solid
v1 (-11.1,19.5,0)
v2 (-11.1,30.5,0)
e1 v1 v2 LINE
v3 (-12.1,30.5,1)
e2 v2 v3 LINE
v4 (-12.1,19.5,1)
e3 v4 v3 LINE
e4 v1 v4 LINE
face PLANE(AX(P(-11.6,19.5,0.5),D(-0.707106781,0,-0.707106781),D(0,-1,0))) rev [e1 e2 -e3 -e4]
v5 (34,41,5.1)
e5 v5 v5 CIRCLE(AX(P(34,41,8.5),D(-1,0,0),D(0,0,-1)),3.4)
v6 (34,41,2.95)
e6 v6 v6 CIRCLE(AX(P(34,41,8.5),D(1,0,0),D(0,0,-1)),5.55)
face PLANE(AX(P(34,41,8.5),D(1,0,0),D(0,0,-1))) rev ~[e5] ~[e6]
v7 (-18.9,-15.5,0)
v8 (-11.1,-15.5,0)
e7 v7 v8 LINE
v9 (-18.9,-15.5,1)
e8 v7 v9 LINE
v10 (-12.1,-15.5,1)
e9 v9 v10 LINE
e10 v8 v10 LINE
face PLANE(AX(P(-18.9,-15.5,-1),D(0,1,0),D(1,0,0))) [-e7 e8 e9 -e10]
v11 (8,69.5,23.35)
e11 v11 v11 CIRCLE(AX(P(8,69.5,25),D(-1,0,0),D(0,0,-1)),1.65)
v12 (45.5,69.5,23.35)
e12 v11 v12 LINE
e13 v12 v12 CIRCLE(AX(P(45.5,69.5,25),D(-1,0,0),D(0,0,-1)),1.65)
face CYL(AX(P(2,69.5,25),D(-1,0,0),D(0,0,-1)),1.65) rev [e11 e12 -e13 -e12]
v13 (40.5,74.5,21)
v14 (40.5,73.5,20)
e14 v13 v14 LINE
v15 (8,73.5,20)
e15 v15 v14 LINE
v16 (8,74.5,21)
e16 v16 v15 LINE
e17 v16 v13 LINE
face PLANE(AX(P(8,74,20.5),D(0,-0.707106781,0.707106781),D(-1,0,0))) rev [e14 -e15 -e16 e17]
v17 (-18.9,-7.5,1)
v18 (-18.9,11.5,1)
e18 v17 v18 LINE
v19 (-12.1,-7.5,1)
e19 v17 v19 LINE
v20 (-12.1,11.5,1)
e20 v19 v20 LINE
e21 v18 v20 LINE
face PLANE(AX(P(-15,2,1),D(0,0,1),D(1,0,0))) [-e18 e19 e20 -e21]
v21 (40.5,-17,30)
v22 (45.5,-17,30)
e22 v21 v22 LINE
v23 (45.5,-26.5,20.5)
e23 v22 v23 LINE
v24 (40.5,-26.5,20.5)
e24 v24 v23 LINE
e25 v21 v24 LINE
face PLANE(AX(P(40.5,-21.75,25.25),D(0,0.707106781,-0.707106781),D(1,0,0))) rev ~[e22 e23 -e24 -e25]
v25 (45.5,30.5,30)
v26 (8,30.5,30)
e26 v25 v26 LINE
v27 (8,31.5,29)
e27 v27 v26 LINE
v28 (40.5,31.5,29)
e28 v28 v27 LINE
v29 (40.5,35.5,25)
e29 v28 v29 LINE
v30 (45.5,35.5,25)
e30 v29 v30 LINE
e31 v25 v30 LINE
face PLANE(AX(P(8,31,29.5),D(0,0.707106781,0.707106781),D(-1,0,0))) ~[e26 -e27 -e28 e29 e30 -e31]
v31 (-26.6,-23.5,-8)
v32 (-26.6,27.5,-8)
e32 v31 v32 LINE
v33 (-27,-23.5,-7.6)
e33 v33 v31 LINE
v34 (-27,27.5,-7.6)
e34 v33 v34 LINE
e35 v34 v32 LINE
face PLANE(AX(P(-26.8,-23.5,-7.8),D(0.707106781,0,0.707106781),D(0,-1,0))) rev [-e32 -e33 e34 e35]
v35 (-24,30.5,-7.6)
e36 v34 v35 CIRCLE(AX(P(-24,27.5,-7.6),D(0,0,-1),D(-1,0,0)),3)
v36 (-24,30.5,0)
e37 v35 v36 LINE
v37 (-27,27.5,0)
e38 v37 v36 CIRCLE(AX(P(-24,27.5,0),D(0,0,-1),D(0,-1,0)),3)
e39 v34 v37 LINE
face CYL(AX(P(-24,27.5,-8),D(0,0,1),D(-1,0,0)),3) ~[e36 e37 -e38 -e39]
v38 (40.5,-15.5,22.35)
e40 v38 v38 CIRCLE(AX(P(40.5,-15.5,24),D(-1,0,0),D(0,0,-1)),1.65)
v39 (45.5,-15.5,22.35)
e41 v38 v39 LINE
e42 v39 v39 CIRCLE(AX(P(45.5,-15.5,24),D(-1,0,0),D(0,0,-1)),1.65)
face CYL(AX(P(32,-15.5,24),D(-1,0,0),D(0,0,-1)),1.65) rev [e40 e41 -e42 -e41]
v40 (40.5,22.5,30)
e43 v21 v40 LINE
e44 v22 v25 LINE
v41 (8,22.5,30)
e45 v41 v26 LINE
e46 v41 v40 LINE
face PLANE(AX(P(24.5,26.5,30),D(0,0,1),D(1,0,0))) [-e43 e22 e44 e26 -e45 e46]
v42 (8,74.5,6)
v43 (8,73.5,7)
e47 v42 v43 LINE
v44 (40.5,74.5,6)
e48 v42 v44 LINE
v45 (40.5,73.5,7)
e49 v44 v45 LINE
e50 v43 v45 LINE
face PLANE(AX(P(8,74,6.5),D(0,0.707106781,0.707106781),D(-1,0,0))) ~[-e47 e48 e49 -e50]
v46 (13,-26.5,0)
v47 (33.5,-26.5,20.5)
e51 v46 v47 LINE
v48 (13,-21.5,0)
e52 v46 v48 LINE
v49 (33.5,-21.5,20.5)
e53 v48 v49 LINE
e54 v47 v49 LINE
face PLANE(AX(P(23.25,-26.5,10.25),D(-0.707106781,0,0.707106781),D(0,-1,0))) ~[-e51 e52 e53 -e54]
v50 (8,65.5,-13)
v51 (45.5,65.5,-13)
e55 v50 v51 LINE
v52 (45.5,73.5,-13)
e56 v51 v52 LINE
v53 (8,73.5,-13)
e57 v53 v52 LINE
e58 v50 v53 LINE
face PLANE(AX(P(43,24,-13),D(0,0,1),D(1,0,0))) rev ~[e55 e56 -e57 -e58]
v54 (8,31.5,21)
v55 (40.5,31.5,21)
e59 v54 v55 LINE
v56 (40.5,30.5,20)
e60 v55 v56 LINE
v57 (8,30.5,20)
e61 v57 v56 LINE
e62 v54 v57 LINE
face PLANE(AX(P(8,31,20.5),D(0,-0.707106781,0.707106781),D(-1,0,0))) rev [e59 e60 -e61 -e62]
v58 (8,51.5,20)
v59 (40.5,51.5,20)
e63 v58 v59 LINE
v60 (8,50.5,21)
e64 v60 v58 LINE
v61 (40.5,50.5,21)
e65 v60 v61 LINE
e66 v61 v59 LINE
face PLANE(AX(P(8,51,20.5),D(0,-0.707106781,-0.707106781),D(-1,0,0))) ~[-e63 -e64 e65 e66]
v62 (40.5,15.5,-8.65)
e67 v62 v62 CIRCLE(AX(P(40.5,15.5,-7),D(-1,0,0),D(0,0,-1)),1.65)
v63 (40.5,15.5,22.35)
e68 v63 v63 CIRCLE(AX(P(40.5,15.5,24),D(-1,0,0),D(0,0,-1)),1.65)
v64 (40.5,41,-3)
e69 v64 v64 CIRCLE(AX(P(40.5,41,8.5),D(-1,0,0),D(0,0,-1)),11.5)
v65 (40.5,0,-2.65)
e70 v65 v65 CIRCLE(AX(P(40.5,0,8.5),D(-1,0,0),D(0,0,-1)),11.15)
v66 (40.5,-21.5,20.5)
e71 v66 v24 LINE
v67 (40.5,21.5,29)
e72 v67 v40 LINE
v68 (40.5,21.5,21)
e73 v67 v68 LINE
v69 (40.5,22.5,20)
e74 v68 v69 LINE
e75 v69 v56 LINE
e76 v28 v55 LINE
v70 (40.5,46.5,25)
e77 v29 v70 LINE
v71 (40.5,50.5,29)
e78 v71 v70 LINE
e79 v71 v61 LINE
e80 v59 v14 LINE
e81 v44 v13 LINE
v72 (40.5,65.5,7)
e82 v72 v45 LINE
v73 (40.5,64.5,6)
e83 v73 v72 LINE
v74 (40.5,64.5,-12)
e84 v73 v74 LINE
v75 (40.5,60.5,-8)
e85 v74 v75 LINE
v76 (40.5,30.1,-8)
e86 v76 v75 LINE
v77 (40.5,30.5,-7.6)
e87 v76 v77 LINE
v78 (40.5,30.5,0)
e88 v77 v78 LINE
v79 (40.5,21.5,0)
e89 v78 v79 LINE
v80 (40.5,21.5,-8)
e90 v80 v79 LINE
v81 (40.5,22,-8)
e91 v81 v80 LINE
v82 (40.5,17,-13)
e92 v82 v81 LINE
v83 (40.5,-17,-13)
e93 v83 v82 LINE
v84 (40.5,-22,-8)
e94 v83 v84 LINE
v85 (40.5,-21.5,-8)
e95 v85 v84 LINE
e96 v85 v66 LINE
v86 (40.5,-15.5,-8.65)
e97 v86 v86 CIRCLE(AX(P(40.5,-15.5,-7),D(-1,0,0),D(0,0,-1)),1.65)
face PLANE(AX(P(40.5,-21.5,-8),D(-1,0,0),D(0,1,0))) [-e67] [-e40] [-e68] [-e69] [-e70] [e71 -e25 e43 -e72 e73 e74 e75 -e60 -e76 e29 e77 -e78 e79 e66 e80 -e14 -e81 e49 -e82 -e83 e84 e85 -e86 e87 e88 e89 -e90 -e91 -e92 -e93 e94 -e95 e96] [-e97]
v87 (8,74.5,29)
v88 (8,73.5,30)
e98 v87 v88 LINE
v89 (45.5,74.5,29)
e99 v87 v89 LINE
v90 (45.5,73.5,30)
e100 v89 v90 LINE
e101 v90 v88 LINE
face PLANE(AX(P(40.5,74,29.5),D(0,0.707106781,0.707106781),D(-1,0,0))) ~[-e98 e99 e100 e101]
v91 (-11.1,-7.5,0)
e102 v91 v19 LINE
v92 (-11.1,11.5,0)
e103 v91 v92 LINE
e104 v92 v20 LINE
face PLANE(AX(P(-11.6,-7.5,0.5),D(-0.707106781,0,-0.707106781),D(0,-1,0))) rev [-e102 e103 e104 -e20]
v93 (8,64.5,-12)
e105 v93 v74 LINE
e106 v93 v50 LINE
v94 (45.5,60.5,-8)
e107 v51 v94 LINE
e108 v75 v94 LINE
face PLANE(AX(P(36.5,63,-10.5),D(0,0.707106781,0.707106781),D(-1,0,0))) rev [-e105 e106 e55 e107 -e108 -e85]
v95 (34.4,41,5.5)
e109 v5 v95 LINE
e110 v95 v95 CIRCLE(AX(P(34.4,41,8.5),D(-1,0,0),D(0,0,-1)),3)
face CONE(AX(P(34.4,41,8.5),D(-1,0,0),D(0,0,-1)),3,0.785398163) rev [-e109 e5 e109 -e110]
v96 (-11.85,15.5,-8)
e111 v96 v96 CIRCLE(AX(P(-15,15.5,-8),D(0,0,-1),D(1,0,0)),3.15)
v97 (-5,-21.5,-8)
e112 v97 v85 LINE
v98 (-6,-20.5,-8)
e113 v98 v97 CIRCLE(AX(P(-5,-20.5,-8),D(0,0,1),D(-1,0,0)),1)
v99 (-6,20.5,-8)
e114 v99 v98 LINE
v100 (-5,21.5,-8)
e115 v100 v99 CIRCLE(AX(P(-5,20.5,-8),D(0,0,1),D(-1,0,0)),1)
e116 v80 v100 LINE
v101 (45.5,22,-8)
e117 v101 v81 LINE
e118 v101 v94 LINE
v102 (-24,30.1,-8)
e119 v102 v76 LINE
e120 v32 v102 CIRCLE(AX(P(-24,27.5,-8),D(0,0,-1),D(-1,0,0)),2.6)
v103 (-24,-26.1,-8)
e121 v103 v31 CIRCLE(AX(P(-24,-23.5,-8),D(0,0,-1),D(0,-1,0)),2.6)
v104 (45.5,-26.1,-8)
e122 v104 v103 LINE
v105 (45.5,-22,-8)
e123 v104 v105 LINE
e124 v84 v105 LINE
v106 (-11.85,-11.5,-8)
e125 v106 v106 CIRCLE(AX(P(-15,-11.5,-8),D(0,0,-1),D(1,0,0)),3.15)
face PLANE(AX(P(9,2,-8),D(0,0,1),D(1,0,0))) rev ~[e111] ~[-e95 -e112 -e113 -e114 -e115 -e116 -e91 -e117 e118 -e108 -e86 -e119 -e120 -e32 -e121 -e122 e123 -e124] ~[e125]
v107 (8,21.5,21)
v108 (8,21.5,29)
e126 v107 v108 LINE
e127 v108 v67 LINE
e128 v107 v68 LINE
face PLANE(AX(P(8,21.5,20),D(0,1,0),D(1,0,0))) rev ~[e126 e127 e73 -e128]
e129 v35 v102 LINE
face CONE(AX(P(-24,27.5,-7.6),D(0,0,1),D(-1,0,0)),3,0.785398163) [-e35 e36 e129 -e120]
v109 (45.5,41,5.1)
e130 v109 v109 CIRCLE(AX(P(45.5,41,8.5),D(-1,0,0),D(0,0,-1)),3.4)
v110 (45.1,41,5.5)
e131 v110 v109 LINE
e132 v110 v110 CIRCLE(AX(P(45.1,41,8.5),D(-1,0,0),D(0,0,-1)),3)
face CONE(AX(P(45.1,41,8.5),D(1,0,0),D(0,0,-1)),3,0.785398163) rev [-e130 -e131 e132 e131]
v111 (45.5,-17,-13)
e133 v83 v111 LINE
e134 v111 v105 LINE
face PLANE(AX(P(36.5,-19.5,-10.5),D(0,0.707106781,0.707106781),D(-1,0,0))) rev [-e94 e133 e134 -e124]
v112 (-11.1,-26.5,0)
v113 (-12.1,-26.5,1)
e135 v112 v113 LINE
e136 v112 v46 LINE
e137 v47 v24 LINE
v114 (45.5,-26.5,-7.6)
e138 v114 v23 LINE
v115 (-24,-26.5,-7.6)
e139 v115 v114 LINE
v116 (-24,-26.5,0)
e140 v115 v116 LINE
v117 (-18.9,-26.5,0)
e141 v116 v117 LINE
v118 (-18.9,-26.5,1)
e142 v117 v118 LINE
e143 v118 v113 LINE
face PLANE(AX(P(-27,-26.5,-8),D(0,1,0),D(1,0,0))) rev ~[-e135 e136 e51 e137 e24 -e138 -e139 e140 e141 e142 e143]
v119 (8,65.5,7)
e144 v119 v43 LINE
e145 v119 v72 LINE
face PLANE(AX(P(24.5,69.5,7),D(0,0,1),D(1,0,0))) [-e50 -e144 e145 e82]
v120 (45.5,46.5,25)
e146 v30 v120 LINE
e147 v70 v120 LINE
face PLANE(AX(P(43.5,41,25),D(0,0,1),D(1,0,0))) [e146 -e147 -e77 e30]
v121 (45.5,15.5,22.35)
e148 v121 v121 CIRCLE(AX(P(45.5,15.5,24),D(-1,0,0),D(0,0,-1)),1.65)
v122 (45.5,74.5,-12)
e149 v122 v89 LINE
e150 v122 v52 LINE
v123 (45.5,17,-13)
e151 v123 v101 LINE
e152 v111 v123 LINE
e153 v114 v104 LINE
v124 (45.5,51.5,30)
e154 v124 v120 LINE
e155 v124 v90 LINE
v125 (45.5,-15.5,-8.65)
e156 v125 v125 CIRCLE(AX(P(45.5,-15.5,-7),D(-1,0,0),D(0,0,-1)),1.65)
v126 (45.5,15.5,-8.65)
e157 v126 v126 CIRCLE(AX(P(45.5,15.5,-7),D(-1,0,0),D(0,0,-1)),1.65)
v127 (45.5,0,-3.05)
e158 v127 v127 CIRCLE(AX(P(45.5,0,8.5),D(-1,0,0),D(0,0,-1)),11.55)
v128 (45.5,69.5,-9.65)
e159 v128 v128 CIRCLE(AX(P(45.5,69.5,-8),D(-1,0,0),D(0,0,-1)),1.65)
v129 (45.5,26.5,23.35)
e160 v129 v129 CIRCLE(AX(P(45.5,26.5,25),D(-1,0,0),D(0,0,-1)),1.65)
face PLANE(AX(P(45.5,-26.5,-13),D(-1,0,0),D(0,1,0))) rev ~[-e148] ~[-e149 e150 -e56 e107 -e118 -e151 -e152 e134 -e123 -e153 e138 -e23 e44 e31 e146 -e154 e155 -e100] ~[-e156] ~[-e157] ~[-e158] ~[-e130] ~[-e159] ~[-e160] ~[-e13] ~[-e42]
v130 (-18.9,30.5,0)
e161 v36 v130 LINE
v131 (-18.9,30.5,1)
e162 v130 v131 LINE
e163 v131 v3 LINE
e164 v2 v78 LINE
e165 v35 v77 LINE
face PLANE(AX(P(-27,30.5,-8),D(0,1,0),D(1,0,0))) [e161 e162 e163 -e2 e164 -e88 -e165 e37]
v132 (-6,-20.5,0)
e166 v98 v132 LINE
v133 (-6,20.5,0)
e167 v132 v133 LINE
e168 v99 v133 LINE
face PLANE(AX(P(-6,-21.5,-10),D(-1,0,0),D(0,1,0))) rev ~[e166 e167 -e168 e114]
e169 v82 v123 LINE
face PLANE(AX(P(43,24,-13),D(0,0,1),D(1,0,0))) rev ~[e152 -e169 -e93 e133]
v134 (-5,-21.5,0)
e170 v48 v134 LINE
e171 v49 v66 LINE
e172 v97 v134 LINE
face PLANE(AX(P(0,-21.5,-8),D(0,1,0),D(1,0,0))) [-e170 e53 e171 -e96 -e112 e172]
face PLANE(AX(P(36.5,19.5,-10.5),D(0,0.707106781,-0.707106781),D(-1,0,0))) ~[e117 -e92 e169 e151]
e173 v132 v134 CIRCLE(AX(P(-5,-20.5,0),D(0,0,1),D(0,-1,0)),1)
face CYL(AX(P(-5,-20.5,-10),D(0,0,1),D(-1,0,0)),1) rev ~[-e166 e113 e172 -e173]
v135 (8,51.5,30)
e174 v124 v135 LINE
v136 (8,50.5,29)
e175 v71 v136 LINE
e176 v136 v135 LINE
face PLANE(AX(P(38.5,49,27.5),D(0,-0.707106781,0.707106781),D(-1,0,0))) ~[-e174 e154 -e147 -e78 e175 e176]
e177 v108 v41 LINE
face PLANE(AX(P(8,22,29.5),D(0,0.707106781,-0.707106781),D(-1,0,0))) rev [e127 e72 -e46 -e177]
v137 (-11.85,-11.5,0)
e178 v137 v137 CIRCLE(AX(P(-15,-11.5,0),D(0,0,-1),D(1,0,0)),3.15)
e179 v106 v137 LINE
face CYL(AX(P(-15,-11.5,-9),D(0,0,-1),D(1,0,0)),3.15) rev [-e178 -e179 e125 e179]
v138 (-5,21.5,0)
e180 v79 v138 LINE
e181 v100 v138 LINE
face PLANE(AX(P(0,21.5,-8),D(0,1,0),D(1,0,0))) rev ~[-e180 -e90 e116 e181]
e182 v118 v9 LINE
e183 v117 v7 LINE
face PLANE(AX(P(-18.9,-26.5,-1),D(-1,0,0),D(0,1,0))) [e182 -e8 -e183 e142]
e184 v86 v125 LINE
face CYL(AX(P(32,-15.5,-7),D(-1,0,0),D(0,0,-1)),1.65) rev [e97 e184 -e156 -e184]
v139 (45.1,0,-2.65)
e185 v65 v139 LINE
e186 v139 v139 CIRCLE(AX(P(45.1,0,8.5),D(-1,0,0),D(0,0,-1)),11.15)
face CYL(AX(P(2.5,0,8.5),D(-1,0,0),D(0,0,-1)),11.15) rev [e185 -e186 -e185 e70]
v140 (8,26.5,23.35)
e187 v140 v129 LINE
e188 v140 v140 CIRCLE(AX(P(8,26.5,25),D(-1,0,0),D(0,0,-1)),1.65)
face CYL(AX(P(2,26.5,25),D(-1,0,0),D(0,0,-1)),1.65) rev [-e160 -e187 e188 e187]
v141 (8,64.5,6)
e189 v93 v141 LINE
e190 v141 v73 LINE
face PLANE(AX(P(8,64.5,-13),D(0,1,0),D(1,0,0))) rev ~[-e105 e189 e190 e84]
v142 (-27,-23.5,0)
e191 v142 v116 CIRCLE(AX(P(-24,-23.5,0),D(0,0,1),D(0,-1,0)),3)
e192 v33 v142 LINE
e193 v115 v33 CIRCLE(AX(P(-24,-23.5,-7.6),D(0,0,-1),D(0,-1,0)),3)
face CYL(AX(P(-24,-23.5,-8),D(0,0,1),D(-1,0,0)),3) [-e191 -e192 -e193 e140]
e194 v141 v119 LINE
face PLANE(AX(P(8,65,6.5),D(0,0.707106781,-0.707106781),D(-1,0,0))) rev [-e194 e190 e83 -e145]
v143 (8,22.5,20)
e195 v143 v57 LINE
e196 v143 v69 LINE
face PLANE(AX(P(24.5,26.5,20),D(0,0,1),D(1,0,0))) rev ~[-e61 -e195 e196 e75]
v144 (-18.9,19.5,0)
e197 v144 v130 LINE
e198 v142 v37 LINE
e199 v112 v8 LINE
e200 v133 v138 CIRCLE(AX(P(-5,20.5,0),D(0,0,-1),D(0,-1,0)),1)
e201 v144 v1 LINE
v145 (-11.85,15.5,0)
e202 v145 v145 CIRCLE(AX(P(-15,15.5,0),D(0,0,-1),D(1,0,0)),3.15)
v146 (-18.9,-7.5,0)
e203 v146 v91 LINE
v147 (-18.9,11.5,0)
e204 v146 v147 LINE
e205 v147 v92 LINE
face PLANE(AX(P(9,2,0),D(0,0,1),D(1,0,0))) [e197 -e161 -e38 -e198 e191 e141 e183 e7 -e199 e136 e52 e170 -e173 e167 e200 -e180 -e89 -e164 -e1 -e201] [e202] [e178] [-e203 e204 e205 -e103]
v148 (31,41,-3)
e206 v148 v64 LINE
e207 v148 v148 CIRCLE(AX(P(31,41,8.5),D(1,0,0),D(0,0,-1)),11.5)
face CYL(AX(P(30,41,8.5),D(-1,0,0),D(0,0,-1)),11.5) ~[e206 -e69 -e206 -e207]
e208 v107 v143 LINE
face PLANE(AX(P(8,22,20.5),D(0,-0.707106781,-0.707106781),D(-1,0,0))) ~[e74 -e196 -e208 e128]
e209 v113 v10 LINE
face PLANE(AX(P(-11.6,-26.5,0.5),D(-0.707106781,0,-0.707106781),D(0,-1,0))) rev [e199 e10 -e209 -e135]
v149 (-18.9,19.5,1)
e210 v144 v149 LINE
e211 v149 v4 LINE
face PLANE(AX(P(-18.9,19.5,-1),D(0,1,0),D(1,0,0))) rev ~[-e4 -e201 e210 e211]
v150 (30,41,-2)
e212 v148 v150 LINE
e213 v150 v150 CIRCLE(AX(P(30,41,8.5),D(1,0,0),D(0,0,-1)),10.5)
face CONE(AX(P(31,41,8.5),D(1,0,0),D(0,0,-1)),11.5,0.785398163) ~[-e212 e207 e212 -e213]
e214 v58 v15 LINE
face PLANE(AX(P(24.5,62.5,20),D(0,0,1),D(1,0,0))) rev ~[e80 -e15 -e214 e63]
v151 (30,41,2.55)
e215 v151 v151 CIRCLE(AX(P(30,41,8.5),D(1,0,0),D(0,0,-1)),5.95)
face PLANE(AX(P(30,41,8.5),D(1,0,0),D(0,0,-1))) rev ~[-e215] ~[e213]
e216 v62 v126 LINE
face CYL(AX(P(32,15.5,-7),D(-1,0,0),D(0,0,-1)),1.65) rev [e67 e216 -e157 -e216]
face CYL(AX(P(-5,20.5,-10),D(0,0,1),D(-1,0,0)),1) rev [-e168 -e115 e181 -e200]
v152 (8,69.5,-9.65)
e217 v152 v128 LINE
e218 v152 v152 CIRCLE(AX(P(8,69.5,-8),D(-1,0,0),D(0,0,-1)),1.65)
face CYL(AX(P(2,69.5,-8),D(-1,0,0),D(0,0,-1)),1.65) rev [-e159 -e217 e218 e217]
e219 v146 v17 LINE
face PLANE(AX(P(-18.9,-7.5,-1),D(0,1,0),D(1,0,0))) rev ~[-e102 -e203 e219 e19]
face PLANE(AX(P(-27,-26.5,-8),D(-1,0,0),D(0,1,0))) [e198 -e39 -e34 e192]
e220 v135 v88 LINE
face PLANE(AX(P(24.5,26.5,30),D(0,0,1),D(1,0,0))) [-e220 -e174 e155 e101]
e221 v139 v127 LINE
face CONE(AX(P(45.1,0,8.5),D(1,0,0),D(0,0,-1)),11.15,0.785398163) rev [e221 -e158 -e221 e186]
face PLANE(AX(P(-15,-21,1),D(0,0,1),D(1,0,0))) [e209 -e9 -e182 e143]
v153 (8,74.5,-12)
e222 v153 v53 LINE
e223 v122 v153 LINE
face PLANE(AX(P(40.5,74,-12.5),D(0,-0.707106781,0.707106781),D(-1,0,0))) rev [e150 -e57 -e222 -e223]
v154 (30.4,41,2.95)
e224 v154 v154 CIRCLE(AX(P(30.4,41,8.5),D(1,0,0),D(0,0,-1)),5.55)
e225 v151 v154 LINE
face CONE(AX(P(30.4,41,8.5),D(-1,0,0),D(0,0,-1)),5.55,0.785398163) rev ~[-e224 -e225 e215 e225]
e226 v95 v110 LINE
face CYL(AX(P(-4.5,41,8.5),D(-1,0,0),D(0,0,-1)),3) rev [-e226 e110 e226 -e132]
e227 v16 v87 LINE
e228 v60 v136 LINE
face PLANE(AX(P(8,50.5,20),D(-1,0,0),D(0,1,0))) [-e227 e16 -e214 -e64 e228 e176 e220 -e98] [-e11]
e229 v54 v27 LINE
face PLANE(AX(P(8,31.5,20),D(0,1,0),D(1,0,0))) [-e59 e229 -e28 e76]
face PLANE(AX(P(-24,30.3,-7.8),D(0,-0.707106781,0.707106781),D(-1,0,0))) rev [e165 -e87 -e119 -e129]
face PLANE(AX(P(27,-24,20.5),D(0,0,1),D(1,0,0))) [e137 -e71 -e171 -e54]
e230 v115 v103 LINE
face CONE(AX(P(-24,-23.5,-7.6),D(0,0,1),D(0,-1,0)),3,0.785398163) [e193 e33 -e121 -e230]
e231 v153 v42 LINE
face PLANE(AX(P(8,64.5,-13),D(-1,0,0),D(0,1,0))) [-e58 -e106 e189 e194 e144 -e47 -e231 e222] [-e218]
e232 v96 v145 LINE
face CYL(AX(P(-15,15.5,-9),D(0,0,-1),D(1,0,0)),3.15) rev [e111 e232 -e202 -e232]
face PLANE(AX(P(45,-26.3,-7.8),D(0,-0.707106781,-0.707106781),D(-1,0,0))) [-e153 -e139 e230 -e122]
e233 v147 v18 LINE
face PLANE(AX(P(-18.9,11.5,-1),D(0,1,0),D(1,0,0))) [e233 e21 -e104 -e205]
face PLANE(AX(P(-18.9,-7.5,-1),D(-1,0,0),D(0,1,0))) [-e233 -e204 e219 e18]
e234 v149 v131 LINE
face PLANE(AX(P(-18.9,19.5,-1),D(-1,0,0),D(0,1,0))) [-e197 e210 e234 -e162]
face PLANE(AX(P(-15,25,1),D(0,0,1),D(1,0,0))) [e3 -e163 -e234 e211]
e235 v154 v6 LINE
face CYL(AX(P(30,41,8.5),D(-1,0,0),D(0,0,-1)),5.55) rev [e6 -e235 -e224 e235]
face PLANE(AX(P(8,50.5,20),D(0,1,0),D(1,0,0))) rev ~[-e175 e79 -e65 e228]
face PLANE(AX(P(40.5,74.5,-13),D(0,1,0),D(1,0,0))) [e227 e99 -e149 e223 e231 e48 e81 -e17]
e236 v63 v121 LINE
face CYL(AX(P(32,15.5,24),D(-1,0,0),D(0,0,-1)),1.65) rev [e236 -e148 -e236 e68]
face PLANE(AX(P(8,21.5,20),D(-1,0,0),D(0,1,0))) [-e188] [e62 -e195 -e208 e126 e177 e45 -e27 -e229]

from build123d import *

# Parameters (mm, degrees)
BOX037_W          = 14
BOX037_H          = 43
BOX037_DEPTH      = 10
FILLET003_R       = 1
BOX020_W          = 10
BOX020_H          = 21
BOX020_DEPTH      = 10
CHAMFER025_SIZE   = 5
CYLINDER008_R     = 1.65
CYLINDER008_DEPTH = 110
CYLINDER009_R     = 1.65
CYLINDER009_DEPTH = 110
CYLINDER010_R     = 1.65
CYLINDER010_DEPTH = 110
BOX011_W          = 33
BOX011_H          = 24
BOX011_DEPTH      = 10
CHAMFER009_SIZE   = 1
BOX013_W          = 33
BOX013_H          = 10
BOX013_DEPTH      = 10
CHAMFER005_SIZE   = 1
BOX012_W          = 33
BOX012_H          = 10
BOX012_DEPTH      = 20
CHAMFER023_SIZE   = 1
CYLINDER024_R     = 3
CYLINDER024_DEPTH = 83
CYLINDER003_R     = 5.55
CYLINDER003_DEPTH = 4
CYLINDER023_R     = 11.5
CYLINDER023_DEPTH = 12
CHAMFER021_SIZE   = 1
CHAMFER022_SIZE   = 0.4
CYLINDER021_R     = 1.65
CYLINDER021_DEPTH = 30
CYLINDER020_R     = 1.65
CYLINDER020_DEPTH = 30
CYLINDER019_R     = 1.65
CYLINDER019_DEPTH = 30
CYLINDER022_R     = 1.65
CYLINDER022_DEPTH = 30
CYLINDER016_R     = 11.15
CYLINDER016_DEPTH = 83
BOX007_W          = 28
BOX007_H          = 5
BOX007_DEPTH      = 28.5
CHAMFER018_SIZE   = 0.5
CHAMFER019_SIZE   = 20.5
BOX015_W          = 10
BOX015_H          = 48.5
BOX015_DEPTH      = 10
CHAMFER014_SIZE   = 5
BOX016_W          = 10
BOX016_H          = 58.5
BOX016_DEPTH      = 10
CHAMFER013_SIZE   = 5
BOX_W             = 5
BOX_H             = 101
BOX_DEPTH         = 43
CHAMFER008_SIZE   = 1
CHAMFER015_SIZE   = 9.5
CHAMFER017_SIZE   = 0.4
CYLINDER018_R     = 3.15
CYLINDER018_DEPTH = 10
CYLINDER017_R     = 3.15
CYLINDER017_DEPTH = 10
BOX010_W          = 40.5
BOX010_H          = 43
BOX010_DEPTH      = 8
BOX009_W          = 72
BOX009_H          = 57
BOX009_DEPTH      = 8
FILLET001_R       = 3
CHAMFER016_SIZE   = 0.4
BOX019_W          = 7.8
BOX019_H          = 11
BOX019_DEPTH      = 2
BOX017_W          = 7.8
BOX017_H          = 11
BOX017_DEPTH      = 2
BOX018_W          = 7.8
BOX018_H          = 19
BOX018_DEPTH      = 2
CHAMFER020_SIZE   = 1
CHAMFER024_SIZE   = 0.4


with BuildPart() as fillet003:
    # Box037 → Box037 (new body)
    with BuildSketch(Plane(origin=(-6, -21.5, -10), x_dir=(1, 0, 0), z_dir=(0, 0, 1))):
        with Locations((7, 21.5)):
            Rectangle(BOX037_W, BOX037_H)
    extrude(amount=BOX037_DEPTH)

    # Fillet003
    fillet003_edges = [fillet003.edges().sort_by_distance(p)[0] for p in [
        (-6, -21.5, -5),
        (-6, 21.5, -5),
    ]]
    fillet(fillet003_edges, radius=FILLET003_R)


with BuildPart() as chamfer025:
    # Box020 → Box020 (new body)
    with BuildSketch(Plane(origin=(38.5, 30.5, 35), x_dir=(1, 0, 0), z_dir=(0, 0, 1))):
        with Locations((5, 10.5)):
            Rectangle(BOX020_W, BOX020_H)
    extrude(amount=BOX020_DEPTH)

    # Chamfer025
    chamfer025_edges = [chamfer025.edges().sort_by_distance(p)[0] for p in [
        (43.5, 30.5, 35),
        (43.5, 51.5, 35),
    ]]
    chamfer(chamfer025_edges, length=CHAMFER025_SIZE)


with BuildPart() as chamfer025_1:
    # Chamfer025 placement: moved
    add(chamfer025.part.moved(Location((0, 0, -10))))


with BuildPart() as cylinder002:
    # Cylinder008 → Cylinder008 (new body)
    with BuildSketch(Plane(origin=(2, 26.5, 25), x_dir=(0, 0, -1), z_dir=(1, 0, 0))):
        Circle(CYLINDER008_R)
    extrude(amount=CYLINDER008_DEPTH)


with BuildPart() as cylinder003:
    # Cylinder009 → Cylinder009 (new body)
    with BuildSketch(Plane(origin=(2, 69.5, 25), x_dir=(0, 0, -1), z_dir=(1, 0, 0))):
        Circle(CYLINDER009_R)
    extrude(amount=CYLINDER009_DEPTH)


with BuildPart() as fusion006002011004053036004001007:
    # Cylinder010 → Cylinder010 (new body)
    with BuildSketch(Plane(origin=(2, 69.5, -8), x_dir=(0, 0, -1), z_dir=(1, 0, 0))):
        Circle(CYLINDER010_R)
    extrude(amount=CYLINDER010_DEPTH)

    # Fusion006002011004053036004001007: union Cylinder002, Cylinder003
    add(cylinder002.part)
    add(cylinder003.part)


with BuildPart() as chamfer009:
    # Box011 → Box011 (new body)
    with BuildSketch(Plane(origin=(8, 50.5, 20), x_dir=(1, 0, 0), z_dir=(0, 0, 1))):
        with Locations((16.5, 12)):
            Rectangle(BOX011_W, BOX011_H)
    extrude(amount=BOX011_DEPTH)

    # Chamfer009
    chamfer009_edges = [chamfer009.edges().sort_by_distance(p)[0] for p in [
        (24.5, 50.5, 20),
        (24.5, 50.5, 30),
        (24.5, 74.5, 20),
        (24.5, 74.5, 30),
    ]]
    chamfer(chamfer009_edges, length=CHAMFER009_SIZE)


with BuildPart() as chamfer005:
    # Box013 → Box013 (new body)
    with BuildSketch(Plane(origin=(8, 21.5, 20), x_dir=(1, 0, 0), z_dir=(0, 0, 1))):
        with Locations((16.5, 5)):
            Rectangle(BOX013_W, BOX013_H)
    extrude(amount=BOX013_DEPTH)

    # Chamfer005
    chamfer005_edges = [chamfer005.edges().sort_by_distance(p)[0] for p in [
        (24.5, 21.5, 20),
        (24.5, 21.5, 30),
        (24.5, 31.5, 20),
        (24.5, 31.5, 30),
    ]]
    chamfer(chamfer005_edges, length=CHAMFER005_SIZE)


with BuildPart() as fusion006002011004053036004001017:
    # Box012 → Box012 (new body)
    with BuildSketch(Plane(origin=(8, 64.5, -13), x_dir=(1, 0, 0), z_dir=(0, 0, 1))):
        with Locations((16.5, 5)):
            Rectangle(BOX012_W, BOX012_H)
    extrude(amount=BOX012_DEPTH)

    # Chamfer023
    chamfer023_edges = [fusion006002011004053036004001017.edges().sort_by_distance(p)[0] for p in [
        (24.5, 64.5, -13),
        (24.5, 64.5, 7),
        (24.5, 74.5, -13),
        (24.5, 74.5, 7),
    ]]
    chamfer(chamfer023_edges, length=CHAMFER023_SIZE)

    # Fusion006002011004053036004001017: union Chamfer009, Chamfer005
    add(chamfer009.part)
    add(chamfer005.part)


with BuildPart() as posb002:
    # Cylinder024 → Cylinder024 (new body)
    with BuildSketch(Plane(origin=(-4.5, 41, 8.5), x_dir=(0, 0, -1), z_dir=(1, 0, 0))):
        Circle(CYLINDER024_R)
    extrude(amount=CYLINDER024_DEPTH)


with BuildPart() as br002:
    # Cylinder003 → Cylinder003 (new body)
    with BuildSketch(Plane(origin=(30, 41, 8.5), x_dir=(0, 0, -1), z_dir=(1, 0, 0))):
        Circle(CYLINDER003_R)
    extrude(amount=CYLINDER003_DEPTH)


with BuildPart() as chamfer022:
    # Cylinder023 → Cylinder023 (new body)
    with BuildSketch(Plane(origin=(30, 41, 8.5), x_dir=(0, 0, -1), z_dir=(1, 0, 0))):
        Circle(CYLINDER023_R)
    extrude(amount=CYLINDER023_DEPTH)

    # Chamfer021
    chamfer021_edges = [chamfer022.edges().sort_by_distance(p)[0] for p in [
        (30, 41, 20),
    ]]
    chamfer(chamfer021_edges, length=CHAMFER021_SIZE)

    # Cut001018: cut br002
    add(br002.part, mode=Mode.SUBTRACT)

    # Chamfer022
    chamfer022_edges = [chamfer022.edges().sort_by_distance(p)[0] for p in [
        (30, 41, 14.05),
    ]]
    chamfer(chamfer022_edges, length=CHAMFER022_SIZE)


with BuildPart() as posa004:
    # Cylinder021 → Cylinder021 (new body)
    with BuildSketch(Plane(origin=(32, -15.5, -7), x_dir=(0, 0, -1), z_dir=(1, 0, 0))):
        Circle(CYLINDER021_R)
    extrude(amount=CYLINDER021_DEPTH)


with BuildPart() as posa003:
    # Cylinder020 → Cylinder020 (new body)
    with BuildSketch(Plane(origin=(32, -15.5, 24), x_dir=(0, 0, -1), z_dir=(1, 0, 0))):
        Circle(CYLINDER020_R)
    extrude(amount=CYLINDER020_DEPTH)


with BuildPart() as posa002:
    # Cylinder019 → Cylinder019 (new body)
    with BuildSketch(Plane(origin=(32, 15.5, 24), x_dir=(0, 0, -1), z_dir=(1, 0, 0))):
        Circle(CYLINDER019_R)
    extrude(amount=CYLINDER019_DEPTH)


with BuildPart() as fusion006002011004053036004001016:
    # Cylinder022 → Cylinder022 (new body)
    with BuildSketch(Plane(origin=(32, 15.5, -7), x_dir=(0, 0, -1), z_dir=(1, 0, 0))):
        Circle(CYLINDER022_R)
    extrude(amount=CYLINDER022_DEPTH)

    # Fusion006002011004053036004001016: union POSA004, POSA003, POSA002
    add(posa004.part)
    add(posa003.part)
    add(posa002.part)


with BuildPart() as posa001:
    # Cylinder016 → Cylinder016 (new body)
    with BuildSketch(Plane(origin=(2.5, 0, 8.5), x_dir=(0, 0, -1), z_dir=(1, 0, 0))):
        Circle(CYLINDER016_R)
    extrude(amount=CYLINDER016_DEPTH)


with BuildPart() as chamfer019:
    # Box007 → Box007 (new body)
    with BuildSketch(Plane(origin=(13, -26.5, -8), x_dir=(1, 0, 0), z_dir=(0, 0, 1))):
        with Locations((14, 2.5)):
            Rectangle(BOX007_W, BOX007_H)
    extrude(amount=BOX007_DEPTH)

    # Chamfer018
    chamfer018_edges = [chamfer019.edges().sort_by_distance(p)[0] for p in [
        (27, -26.5, -8),
    ]]
    chamfer(chamfer018_edges, length=CHAMFER018_SIZE)

    # Chamfer019
    chamfer019_edges = [chamfer019.edges().sort_by_distance(p)[0] for p in [
        (13, -24, 20.5),
    ]]
    chamfer(chamfer019_edges, length=CHAMFER019_SIZE)


with BuildPart() as chamfer014:
    # Box015 → Box015 (new body)
    with BuildSketch(Plane(origin=(36.5, 17, -18), x_dir=(1, 0, 0), z_dir=(0, 0, 1))):
        with Locations((5, 24.25)):
            Rectangle(BOX015_W, BOX015_H)
    extrude(amount=BOX015_DEPTH)

    # Chamfer014
    chamfer014_edges = [chamfer014.edges().sort_by_distance(p)[0] for p in [
        (41.5, 17, -8),
        (41.5, 65.5, -8),
    ]]
    chamfer(chamfer014_edges, length=CHAMFER014_SIZE)


with BuildPart() as chamfer013:
    # Box016 → Box016 (new body)
    with BuildSketch(Plane(origin=(36.5, -75.5, -18), x_dir=(1, 0, 0), z_dir=(0, 0, 1))):
        with Locations((5, 29.25)):
            Rectangle(BOX016_W, BOX016_H)
    extrude(amount=BOX016_DEPTH)

    # Chamfer013
    chamfer013_edges = [chamfer013.edges().sort_by_distance(p)[0] for p in [
        (41.5, -17, -8),
    ]]
    chamfer(chamfer013_edges, length=CHAMFER013_SIZE)


with BuildPart() as chamfer017:
    # Box → Box (new body)
    with BuildSketch(Plane(origin=(40.5, -26.5, -13), x_dir=(1, 0, 0), z_dir=(0, 0, 1))):
        with Locations((2.5, 50.5)):
            Rectangle(BOX_W, BOX_H)
    extrude(amount=BOX_DEPTH)

    # Chamfer008
    chamfer008_edges = [chamfer017.edges().sort_by_distance(p)[0] for p in [
        (43, 74.5, -13),
        (43, 74.5, 30),
    ]]
    chamfer(chamfer008_edges, length=CHAMFER008_SIZE)

    # Cut001013: cut Chamfer013
    add(chamfer013.part, mode=Mode.SUBTRACT)

    # Cut001014: cut Chamfer014
    add(chamfer014.part, mode=Mode.SUBTRACT)

    # Chamfer015
    chamfer015_edges = [chamfer017.edges().sort_by_distance(p)[0] for p in [
        (43, -26.5, 30),
    ]]
    chamfer(chamfer015_edges, length=CHAMFER015_SIZE)

    # Chamfer017
    chamfer017_edges = [chamfer017.edges().sort_by_distance(p)[0] for p in [
        (43, -26.5, -8),
    ]]
    chamfer(chamfer017_edges, length=CHAMFER017_SIZE)


with BuildPart() as cylinder011:
    # Cylinder018 → Cylinder018 (new body)
    with BuildSketch(Plane(origin=(-15, -11.5, 0), x_dir=(1, 0, 0), z_dir=(0, 0, 1))):
        Circle(CYLINDER018_R)
    extrude(amount=CYLINDER018_DEPTH)


with BuildPart() as fusion006002011004053036004001012:
    # Cylinder017 → Cylinder017 (new body)
    with BuildSketch(Plane(origin=(-15, 15.5, 0), x_dir=(1, 0, 0), z_dir=(0, 0, 1))):
        Circle(CYLINDER017_R)
    extrude(amount=CYLINDER017_DEPTH)

    # Fusion006002011004053036004001012: union Cylinder011
    add(cylinder011.part)


with BuildPart() as fusion006002011004053036004001012_1:
    # Fusion006002011004053036004001012 placement: moved
    add(fusion006002011004053036004001012.part.moved(Location((0, 0, -9))))


with BuildPart() as cube010:
    # Box010 → Box010 (new body)
    with BuildSketch(Plane(origin=(0, -21.5, -8), x_dir=(1, 0, 0), z_dir=(0, 0, 1))):
        with Locations((20.25, 21.5)):
            Rectangle(BOX010_W, BOX010_H)
    extrude(amount=BOX010_DEPTH)


with BuildPart() as cut001015:
    # Box009 → Box009 (new body)
    with BuildSketch(Plane(origin=(-27, -26.5, -8), x_dir=(1, 0, 0), z_dir=(0, 0, 1))):
        with Locations((36, 28.5)):
            Rectangle(BOX009_W, BOX009_H)
    extrude(amount=BOX009_DEPTH)

    # Fillet001
    fillet001_edges = [cut001015.edges().sort_by_distance(p)[0] for p in [
        (-27, -26.5, -4),
        (-27, 30.5, -4),
    ]]
    fillet(fillet001_edges, radius=FILLET001_R)

    # Cut001009: cut Cube010
    add(cube010.part, mode=Mode.SUBTRACT)

    # Chamfer016
    chamfer016_edges = [cut001015.edges().sort_by_distance(p)[0] for p in [
        (-27, 2, -8),
        (-26.12132, -25.62132, -8),
        (-26.12132, 29.62132, -8),
        (10.5, -26.5, -8),
        (10.5, 30.5, -8),
    ]]
    chamfer(chamfer016_edges, length=CHAMFER016_SIZE)

    # Cut001015: cut Fusion006002011004053036004001012
    add(fusion006002011004053036004001012_1.part, mode=Mode.SUBTRACT)


with BuildPart() as cube019:
    # Box019 → Box019 (new body)
    with BuildSketch(Plane(origin=(-18.9, 19.5, 0), x_dir=(1, 0, 0), z_dir=(0, 0, 1))):
        with Locations((3.9, 5.5)):
            Rectangle(BOX019_W, BOX019_H)
    extrude(amount=BOX019_DEPTH)


with BuildPart() as cube017:
    # Box017 → Box017 (new body)
    with BuildSketch(Plane(origin=(-18.9, -26.5, 0), x_dir=(1, 0, 0), z_dir=(0, 0, 1))):
        with Locations((3.9, 5.5)):
            Rectangle(BOX017_W, BOX017_H)
    extrude(amount=BOX017_DEPTH)


with BuildPart() as z_motor_plate_r003:
    # Box018 → Box018 (new body)
    with BuildSketch(Plane(origin=(-18.9, -7.5, 0), x_dir=(1, 0, 0), z_dir=(0, 0, 1))):
        with Locations((3.9, 9.5)):
            Rectangle(BOX018_W, BOX018_H)
    extrude(amount=BOX018_DEPTH)

    # Fusion006002011004053036004001013: union Cube019, Cube017
    add(cube019.part)
    add(cube017.part)


with BuildPart() as z_motor_plate_r003_1:
    # Fusion006002011004053036004001013 placement: moved
    add(z_motor_plate_r003.part.moved(Location((0, 0, -1))))

    # Chamfer020
    chamfer020_edges = [z_motor_plate_r003_1.edges().sort_by_distance(p)[0] for p in [
        (-11.1, 2, 1),
        (-11.1, 25, 1),
        (-11.1, -21, 1),
    ]]
    chamfer(chamfer020_edges, length=CHAMFER020_SIZE)

    # Fusion006002011004053036004001014: union Cut001015
    add(cut001015.part)

    # Fusion006002011004053036004001015: union Chamfer019, Chamfer017
    add(chamfer019.part)
    add(chamfer017.part)

    # Cut001016: cut POSA001
    add(posa001.part, mode=Mode.SUBTRACT)

    # Cut001017: cut Fusion006002011004053036004001016
    add(fusion006002011004053036004001016.part, mode=Mode.SUBTRACT)

    # Fusion006002011004053036004001018: union Chamfer022
    add(chamfer022.part)

    # Cut001019: cut POSB002
    add(posb002.part, mode=Mode.SUBTRACT)

    # Chamfer024
    chamfer024_edges = [z_motor_plate_r003_1.edges().sort_by_distance(p)[0] for p in [
        (45.5, 0, 19.65),
        (45.5, 41, 11.5),
        (34, 41, 11.5),
    ]]
    chamfer(chamfer024_edges, length=CHAMFER024_SIZE)

    # Fusion006002011004053036004001019: union Fusion006002011004053036004001017
    add(fusion006002011004053036004001017.part)

    # Cut001020: cut Fusion006002011004053036004001007
    add(fusion006002011004053036004001007.part, mode=Mode.SUBTRACT)

    # Cut001021: cut Chamfer025
    add(chamfer025_1.part, mode=Mode.SUBTRACT)

    # Cut001024014003: cut Fillet003
    add(fillet003.part, mode=Mode.SUBTRACT)


solid = z_motor_plate_r003_1.part
